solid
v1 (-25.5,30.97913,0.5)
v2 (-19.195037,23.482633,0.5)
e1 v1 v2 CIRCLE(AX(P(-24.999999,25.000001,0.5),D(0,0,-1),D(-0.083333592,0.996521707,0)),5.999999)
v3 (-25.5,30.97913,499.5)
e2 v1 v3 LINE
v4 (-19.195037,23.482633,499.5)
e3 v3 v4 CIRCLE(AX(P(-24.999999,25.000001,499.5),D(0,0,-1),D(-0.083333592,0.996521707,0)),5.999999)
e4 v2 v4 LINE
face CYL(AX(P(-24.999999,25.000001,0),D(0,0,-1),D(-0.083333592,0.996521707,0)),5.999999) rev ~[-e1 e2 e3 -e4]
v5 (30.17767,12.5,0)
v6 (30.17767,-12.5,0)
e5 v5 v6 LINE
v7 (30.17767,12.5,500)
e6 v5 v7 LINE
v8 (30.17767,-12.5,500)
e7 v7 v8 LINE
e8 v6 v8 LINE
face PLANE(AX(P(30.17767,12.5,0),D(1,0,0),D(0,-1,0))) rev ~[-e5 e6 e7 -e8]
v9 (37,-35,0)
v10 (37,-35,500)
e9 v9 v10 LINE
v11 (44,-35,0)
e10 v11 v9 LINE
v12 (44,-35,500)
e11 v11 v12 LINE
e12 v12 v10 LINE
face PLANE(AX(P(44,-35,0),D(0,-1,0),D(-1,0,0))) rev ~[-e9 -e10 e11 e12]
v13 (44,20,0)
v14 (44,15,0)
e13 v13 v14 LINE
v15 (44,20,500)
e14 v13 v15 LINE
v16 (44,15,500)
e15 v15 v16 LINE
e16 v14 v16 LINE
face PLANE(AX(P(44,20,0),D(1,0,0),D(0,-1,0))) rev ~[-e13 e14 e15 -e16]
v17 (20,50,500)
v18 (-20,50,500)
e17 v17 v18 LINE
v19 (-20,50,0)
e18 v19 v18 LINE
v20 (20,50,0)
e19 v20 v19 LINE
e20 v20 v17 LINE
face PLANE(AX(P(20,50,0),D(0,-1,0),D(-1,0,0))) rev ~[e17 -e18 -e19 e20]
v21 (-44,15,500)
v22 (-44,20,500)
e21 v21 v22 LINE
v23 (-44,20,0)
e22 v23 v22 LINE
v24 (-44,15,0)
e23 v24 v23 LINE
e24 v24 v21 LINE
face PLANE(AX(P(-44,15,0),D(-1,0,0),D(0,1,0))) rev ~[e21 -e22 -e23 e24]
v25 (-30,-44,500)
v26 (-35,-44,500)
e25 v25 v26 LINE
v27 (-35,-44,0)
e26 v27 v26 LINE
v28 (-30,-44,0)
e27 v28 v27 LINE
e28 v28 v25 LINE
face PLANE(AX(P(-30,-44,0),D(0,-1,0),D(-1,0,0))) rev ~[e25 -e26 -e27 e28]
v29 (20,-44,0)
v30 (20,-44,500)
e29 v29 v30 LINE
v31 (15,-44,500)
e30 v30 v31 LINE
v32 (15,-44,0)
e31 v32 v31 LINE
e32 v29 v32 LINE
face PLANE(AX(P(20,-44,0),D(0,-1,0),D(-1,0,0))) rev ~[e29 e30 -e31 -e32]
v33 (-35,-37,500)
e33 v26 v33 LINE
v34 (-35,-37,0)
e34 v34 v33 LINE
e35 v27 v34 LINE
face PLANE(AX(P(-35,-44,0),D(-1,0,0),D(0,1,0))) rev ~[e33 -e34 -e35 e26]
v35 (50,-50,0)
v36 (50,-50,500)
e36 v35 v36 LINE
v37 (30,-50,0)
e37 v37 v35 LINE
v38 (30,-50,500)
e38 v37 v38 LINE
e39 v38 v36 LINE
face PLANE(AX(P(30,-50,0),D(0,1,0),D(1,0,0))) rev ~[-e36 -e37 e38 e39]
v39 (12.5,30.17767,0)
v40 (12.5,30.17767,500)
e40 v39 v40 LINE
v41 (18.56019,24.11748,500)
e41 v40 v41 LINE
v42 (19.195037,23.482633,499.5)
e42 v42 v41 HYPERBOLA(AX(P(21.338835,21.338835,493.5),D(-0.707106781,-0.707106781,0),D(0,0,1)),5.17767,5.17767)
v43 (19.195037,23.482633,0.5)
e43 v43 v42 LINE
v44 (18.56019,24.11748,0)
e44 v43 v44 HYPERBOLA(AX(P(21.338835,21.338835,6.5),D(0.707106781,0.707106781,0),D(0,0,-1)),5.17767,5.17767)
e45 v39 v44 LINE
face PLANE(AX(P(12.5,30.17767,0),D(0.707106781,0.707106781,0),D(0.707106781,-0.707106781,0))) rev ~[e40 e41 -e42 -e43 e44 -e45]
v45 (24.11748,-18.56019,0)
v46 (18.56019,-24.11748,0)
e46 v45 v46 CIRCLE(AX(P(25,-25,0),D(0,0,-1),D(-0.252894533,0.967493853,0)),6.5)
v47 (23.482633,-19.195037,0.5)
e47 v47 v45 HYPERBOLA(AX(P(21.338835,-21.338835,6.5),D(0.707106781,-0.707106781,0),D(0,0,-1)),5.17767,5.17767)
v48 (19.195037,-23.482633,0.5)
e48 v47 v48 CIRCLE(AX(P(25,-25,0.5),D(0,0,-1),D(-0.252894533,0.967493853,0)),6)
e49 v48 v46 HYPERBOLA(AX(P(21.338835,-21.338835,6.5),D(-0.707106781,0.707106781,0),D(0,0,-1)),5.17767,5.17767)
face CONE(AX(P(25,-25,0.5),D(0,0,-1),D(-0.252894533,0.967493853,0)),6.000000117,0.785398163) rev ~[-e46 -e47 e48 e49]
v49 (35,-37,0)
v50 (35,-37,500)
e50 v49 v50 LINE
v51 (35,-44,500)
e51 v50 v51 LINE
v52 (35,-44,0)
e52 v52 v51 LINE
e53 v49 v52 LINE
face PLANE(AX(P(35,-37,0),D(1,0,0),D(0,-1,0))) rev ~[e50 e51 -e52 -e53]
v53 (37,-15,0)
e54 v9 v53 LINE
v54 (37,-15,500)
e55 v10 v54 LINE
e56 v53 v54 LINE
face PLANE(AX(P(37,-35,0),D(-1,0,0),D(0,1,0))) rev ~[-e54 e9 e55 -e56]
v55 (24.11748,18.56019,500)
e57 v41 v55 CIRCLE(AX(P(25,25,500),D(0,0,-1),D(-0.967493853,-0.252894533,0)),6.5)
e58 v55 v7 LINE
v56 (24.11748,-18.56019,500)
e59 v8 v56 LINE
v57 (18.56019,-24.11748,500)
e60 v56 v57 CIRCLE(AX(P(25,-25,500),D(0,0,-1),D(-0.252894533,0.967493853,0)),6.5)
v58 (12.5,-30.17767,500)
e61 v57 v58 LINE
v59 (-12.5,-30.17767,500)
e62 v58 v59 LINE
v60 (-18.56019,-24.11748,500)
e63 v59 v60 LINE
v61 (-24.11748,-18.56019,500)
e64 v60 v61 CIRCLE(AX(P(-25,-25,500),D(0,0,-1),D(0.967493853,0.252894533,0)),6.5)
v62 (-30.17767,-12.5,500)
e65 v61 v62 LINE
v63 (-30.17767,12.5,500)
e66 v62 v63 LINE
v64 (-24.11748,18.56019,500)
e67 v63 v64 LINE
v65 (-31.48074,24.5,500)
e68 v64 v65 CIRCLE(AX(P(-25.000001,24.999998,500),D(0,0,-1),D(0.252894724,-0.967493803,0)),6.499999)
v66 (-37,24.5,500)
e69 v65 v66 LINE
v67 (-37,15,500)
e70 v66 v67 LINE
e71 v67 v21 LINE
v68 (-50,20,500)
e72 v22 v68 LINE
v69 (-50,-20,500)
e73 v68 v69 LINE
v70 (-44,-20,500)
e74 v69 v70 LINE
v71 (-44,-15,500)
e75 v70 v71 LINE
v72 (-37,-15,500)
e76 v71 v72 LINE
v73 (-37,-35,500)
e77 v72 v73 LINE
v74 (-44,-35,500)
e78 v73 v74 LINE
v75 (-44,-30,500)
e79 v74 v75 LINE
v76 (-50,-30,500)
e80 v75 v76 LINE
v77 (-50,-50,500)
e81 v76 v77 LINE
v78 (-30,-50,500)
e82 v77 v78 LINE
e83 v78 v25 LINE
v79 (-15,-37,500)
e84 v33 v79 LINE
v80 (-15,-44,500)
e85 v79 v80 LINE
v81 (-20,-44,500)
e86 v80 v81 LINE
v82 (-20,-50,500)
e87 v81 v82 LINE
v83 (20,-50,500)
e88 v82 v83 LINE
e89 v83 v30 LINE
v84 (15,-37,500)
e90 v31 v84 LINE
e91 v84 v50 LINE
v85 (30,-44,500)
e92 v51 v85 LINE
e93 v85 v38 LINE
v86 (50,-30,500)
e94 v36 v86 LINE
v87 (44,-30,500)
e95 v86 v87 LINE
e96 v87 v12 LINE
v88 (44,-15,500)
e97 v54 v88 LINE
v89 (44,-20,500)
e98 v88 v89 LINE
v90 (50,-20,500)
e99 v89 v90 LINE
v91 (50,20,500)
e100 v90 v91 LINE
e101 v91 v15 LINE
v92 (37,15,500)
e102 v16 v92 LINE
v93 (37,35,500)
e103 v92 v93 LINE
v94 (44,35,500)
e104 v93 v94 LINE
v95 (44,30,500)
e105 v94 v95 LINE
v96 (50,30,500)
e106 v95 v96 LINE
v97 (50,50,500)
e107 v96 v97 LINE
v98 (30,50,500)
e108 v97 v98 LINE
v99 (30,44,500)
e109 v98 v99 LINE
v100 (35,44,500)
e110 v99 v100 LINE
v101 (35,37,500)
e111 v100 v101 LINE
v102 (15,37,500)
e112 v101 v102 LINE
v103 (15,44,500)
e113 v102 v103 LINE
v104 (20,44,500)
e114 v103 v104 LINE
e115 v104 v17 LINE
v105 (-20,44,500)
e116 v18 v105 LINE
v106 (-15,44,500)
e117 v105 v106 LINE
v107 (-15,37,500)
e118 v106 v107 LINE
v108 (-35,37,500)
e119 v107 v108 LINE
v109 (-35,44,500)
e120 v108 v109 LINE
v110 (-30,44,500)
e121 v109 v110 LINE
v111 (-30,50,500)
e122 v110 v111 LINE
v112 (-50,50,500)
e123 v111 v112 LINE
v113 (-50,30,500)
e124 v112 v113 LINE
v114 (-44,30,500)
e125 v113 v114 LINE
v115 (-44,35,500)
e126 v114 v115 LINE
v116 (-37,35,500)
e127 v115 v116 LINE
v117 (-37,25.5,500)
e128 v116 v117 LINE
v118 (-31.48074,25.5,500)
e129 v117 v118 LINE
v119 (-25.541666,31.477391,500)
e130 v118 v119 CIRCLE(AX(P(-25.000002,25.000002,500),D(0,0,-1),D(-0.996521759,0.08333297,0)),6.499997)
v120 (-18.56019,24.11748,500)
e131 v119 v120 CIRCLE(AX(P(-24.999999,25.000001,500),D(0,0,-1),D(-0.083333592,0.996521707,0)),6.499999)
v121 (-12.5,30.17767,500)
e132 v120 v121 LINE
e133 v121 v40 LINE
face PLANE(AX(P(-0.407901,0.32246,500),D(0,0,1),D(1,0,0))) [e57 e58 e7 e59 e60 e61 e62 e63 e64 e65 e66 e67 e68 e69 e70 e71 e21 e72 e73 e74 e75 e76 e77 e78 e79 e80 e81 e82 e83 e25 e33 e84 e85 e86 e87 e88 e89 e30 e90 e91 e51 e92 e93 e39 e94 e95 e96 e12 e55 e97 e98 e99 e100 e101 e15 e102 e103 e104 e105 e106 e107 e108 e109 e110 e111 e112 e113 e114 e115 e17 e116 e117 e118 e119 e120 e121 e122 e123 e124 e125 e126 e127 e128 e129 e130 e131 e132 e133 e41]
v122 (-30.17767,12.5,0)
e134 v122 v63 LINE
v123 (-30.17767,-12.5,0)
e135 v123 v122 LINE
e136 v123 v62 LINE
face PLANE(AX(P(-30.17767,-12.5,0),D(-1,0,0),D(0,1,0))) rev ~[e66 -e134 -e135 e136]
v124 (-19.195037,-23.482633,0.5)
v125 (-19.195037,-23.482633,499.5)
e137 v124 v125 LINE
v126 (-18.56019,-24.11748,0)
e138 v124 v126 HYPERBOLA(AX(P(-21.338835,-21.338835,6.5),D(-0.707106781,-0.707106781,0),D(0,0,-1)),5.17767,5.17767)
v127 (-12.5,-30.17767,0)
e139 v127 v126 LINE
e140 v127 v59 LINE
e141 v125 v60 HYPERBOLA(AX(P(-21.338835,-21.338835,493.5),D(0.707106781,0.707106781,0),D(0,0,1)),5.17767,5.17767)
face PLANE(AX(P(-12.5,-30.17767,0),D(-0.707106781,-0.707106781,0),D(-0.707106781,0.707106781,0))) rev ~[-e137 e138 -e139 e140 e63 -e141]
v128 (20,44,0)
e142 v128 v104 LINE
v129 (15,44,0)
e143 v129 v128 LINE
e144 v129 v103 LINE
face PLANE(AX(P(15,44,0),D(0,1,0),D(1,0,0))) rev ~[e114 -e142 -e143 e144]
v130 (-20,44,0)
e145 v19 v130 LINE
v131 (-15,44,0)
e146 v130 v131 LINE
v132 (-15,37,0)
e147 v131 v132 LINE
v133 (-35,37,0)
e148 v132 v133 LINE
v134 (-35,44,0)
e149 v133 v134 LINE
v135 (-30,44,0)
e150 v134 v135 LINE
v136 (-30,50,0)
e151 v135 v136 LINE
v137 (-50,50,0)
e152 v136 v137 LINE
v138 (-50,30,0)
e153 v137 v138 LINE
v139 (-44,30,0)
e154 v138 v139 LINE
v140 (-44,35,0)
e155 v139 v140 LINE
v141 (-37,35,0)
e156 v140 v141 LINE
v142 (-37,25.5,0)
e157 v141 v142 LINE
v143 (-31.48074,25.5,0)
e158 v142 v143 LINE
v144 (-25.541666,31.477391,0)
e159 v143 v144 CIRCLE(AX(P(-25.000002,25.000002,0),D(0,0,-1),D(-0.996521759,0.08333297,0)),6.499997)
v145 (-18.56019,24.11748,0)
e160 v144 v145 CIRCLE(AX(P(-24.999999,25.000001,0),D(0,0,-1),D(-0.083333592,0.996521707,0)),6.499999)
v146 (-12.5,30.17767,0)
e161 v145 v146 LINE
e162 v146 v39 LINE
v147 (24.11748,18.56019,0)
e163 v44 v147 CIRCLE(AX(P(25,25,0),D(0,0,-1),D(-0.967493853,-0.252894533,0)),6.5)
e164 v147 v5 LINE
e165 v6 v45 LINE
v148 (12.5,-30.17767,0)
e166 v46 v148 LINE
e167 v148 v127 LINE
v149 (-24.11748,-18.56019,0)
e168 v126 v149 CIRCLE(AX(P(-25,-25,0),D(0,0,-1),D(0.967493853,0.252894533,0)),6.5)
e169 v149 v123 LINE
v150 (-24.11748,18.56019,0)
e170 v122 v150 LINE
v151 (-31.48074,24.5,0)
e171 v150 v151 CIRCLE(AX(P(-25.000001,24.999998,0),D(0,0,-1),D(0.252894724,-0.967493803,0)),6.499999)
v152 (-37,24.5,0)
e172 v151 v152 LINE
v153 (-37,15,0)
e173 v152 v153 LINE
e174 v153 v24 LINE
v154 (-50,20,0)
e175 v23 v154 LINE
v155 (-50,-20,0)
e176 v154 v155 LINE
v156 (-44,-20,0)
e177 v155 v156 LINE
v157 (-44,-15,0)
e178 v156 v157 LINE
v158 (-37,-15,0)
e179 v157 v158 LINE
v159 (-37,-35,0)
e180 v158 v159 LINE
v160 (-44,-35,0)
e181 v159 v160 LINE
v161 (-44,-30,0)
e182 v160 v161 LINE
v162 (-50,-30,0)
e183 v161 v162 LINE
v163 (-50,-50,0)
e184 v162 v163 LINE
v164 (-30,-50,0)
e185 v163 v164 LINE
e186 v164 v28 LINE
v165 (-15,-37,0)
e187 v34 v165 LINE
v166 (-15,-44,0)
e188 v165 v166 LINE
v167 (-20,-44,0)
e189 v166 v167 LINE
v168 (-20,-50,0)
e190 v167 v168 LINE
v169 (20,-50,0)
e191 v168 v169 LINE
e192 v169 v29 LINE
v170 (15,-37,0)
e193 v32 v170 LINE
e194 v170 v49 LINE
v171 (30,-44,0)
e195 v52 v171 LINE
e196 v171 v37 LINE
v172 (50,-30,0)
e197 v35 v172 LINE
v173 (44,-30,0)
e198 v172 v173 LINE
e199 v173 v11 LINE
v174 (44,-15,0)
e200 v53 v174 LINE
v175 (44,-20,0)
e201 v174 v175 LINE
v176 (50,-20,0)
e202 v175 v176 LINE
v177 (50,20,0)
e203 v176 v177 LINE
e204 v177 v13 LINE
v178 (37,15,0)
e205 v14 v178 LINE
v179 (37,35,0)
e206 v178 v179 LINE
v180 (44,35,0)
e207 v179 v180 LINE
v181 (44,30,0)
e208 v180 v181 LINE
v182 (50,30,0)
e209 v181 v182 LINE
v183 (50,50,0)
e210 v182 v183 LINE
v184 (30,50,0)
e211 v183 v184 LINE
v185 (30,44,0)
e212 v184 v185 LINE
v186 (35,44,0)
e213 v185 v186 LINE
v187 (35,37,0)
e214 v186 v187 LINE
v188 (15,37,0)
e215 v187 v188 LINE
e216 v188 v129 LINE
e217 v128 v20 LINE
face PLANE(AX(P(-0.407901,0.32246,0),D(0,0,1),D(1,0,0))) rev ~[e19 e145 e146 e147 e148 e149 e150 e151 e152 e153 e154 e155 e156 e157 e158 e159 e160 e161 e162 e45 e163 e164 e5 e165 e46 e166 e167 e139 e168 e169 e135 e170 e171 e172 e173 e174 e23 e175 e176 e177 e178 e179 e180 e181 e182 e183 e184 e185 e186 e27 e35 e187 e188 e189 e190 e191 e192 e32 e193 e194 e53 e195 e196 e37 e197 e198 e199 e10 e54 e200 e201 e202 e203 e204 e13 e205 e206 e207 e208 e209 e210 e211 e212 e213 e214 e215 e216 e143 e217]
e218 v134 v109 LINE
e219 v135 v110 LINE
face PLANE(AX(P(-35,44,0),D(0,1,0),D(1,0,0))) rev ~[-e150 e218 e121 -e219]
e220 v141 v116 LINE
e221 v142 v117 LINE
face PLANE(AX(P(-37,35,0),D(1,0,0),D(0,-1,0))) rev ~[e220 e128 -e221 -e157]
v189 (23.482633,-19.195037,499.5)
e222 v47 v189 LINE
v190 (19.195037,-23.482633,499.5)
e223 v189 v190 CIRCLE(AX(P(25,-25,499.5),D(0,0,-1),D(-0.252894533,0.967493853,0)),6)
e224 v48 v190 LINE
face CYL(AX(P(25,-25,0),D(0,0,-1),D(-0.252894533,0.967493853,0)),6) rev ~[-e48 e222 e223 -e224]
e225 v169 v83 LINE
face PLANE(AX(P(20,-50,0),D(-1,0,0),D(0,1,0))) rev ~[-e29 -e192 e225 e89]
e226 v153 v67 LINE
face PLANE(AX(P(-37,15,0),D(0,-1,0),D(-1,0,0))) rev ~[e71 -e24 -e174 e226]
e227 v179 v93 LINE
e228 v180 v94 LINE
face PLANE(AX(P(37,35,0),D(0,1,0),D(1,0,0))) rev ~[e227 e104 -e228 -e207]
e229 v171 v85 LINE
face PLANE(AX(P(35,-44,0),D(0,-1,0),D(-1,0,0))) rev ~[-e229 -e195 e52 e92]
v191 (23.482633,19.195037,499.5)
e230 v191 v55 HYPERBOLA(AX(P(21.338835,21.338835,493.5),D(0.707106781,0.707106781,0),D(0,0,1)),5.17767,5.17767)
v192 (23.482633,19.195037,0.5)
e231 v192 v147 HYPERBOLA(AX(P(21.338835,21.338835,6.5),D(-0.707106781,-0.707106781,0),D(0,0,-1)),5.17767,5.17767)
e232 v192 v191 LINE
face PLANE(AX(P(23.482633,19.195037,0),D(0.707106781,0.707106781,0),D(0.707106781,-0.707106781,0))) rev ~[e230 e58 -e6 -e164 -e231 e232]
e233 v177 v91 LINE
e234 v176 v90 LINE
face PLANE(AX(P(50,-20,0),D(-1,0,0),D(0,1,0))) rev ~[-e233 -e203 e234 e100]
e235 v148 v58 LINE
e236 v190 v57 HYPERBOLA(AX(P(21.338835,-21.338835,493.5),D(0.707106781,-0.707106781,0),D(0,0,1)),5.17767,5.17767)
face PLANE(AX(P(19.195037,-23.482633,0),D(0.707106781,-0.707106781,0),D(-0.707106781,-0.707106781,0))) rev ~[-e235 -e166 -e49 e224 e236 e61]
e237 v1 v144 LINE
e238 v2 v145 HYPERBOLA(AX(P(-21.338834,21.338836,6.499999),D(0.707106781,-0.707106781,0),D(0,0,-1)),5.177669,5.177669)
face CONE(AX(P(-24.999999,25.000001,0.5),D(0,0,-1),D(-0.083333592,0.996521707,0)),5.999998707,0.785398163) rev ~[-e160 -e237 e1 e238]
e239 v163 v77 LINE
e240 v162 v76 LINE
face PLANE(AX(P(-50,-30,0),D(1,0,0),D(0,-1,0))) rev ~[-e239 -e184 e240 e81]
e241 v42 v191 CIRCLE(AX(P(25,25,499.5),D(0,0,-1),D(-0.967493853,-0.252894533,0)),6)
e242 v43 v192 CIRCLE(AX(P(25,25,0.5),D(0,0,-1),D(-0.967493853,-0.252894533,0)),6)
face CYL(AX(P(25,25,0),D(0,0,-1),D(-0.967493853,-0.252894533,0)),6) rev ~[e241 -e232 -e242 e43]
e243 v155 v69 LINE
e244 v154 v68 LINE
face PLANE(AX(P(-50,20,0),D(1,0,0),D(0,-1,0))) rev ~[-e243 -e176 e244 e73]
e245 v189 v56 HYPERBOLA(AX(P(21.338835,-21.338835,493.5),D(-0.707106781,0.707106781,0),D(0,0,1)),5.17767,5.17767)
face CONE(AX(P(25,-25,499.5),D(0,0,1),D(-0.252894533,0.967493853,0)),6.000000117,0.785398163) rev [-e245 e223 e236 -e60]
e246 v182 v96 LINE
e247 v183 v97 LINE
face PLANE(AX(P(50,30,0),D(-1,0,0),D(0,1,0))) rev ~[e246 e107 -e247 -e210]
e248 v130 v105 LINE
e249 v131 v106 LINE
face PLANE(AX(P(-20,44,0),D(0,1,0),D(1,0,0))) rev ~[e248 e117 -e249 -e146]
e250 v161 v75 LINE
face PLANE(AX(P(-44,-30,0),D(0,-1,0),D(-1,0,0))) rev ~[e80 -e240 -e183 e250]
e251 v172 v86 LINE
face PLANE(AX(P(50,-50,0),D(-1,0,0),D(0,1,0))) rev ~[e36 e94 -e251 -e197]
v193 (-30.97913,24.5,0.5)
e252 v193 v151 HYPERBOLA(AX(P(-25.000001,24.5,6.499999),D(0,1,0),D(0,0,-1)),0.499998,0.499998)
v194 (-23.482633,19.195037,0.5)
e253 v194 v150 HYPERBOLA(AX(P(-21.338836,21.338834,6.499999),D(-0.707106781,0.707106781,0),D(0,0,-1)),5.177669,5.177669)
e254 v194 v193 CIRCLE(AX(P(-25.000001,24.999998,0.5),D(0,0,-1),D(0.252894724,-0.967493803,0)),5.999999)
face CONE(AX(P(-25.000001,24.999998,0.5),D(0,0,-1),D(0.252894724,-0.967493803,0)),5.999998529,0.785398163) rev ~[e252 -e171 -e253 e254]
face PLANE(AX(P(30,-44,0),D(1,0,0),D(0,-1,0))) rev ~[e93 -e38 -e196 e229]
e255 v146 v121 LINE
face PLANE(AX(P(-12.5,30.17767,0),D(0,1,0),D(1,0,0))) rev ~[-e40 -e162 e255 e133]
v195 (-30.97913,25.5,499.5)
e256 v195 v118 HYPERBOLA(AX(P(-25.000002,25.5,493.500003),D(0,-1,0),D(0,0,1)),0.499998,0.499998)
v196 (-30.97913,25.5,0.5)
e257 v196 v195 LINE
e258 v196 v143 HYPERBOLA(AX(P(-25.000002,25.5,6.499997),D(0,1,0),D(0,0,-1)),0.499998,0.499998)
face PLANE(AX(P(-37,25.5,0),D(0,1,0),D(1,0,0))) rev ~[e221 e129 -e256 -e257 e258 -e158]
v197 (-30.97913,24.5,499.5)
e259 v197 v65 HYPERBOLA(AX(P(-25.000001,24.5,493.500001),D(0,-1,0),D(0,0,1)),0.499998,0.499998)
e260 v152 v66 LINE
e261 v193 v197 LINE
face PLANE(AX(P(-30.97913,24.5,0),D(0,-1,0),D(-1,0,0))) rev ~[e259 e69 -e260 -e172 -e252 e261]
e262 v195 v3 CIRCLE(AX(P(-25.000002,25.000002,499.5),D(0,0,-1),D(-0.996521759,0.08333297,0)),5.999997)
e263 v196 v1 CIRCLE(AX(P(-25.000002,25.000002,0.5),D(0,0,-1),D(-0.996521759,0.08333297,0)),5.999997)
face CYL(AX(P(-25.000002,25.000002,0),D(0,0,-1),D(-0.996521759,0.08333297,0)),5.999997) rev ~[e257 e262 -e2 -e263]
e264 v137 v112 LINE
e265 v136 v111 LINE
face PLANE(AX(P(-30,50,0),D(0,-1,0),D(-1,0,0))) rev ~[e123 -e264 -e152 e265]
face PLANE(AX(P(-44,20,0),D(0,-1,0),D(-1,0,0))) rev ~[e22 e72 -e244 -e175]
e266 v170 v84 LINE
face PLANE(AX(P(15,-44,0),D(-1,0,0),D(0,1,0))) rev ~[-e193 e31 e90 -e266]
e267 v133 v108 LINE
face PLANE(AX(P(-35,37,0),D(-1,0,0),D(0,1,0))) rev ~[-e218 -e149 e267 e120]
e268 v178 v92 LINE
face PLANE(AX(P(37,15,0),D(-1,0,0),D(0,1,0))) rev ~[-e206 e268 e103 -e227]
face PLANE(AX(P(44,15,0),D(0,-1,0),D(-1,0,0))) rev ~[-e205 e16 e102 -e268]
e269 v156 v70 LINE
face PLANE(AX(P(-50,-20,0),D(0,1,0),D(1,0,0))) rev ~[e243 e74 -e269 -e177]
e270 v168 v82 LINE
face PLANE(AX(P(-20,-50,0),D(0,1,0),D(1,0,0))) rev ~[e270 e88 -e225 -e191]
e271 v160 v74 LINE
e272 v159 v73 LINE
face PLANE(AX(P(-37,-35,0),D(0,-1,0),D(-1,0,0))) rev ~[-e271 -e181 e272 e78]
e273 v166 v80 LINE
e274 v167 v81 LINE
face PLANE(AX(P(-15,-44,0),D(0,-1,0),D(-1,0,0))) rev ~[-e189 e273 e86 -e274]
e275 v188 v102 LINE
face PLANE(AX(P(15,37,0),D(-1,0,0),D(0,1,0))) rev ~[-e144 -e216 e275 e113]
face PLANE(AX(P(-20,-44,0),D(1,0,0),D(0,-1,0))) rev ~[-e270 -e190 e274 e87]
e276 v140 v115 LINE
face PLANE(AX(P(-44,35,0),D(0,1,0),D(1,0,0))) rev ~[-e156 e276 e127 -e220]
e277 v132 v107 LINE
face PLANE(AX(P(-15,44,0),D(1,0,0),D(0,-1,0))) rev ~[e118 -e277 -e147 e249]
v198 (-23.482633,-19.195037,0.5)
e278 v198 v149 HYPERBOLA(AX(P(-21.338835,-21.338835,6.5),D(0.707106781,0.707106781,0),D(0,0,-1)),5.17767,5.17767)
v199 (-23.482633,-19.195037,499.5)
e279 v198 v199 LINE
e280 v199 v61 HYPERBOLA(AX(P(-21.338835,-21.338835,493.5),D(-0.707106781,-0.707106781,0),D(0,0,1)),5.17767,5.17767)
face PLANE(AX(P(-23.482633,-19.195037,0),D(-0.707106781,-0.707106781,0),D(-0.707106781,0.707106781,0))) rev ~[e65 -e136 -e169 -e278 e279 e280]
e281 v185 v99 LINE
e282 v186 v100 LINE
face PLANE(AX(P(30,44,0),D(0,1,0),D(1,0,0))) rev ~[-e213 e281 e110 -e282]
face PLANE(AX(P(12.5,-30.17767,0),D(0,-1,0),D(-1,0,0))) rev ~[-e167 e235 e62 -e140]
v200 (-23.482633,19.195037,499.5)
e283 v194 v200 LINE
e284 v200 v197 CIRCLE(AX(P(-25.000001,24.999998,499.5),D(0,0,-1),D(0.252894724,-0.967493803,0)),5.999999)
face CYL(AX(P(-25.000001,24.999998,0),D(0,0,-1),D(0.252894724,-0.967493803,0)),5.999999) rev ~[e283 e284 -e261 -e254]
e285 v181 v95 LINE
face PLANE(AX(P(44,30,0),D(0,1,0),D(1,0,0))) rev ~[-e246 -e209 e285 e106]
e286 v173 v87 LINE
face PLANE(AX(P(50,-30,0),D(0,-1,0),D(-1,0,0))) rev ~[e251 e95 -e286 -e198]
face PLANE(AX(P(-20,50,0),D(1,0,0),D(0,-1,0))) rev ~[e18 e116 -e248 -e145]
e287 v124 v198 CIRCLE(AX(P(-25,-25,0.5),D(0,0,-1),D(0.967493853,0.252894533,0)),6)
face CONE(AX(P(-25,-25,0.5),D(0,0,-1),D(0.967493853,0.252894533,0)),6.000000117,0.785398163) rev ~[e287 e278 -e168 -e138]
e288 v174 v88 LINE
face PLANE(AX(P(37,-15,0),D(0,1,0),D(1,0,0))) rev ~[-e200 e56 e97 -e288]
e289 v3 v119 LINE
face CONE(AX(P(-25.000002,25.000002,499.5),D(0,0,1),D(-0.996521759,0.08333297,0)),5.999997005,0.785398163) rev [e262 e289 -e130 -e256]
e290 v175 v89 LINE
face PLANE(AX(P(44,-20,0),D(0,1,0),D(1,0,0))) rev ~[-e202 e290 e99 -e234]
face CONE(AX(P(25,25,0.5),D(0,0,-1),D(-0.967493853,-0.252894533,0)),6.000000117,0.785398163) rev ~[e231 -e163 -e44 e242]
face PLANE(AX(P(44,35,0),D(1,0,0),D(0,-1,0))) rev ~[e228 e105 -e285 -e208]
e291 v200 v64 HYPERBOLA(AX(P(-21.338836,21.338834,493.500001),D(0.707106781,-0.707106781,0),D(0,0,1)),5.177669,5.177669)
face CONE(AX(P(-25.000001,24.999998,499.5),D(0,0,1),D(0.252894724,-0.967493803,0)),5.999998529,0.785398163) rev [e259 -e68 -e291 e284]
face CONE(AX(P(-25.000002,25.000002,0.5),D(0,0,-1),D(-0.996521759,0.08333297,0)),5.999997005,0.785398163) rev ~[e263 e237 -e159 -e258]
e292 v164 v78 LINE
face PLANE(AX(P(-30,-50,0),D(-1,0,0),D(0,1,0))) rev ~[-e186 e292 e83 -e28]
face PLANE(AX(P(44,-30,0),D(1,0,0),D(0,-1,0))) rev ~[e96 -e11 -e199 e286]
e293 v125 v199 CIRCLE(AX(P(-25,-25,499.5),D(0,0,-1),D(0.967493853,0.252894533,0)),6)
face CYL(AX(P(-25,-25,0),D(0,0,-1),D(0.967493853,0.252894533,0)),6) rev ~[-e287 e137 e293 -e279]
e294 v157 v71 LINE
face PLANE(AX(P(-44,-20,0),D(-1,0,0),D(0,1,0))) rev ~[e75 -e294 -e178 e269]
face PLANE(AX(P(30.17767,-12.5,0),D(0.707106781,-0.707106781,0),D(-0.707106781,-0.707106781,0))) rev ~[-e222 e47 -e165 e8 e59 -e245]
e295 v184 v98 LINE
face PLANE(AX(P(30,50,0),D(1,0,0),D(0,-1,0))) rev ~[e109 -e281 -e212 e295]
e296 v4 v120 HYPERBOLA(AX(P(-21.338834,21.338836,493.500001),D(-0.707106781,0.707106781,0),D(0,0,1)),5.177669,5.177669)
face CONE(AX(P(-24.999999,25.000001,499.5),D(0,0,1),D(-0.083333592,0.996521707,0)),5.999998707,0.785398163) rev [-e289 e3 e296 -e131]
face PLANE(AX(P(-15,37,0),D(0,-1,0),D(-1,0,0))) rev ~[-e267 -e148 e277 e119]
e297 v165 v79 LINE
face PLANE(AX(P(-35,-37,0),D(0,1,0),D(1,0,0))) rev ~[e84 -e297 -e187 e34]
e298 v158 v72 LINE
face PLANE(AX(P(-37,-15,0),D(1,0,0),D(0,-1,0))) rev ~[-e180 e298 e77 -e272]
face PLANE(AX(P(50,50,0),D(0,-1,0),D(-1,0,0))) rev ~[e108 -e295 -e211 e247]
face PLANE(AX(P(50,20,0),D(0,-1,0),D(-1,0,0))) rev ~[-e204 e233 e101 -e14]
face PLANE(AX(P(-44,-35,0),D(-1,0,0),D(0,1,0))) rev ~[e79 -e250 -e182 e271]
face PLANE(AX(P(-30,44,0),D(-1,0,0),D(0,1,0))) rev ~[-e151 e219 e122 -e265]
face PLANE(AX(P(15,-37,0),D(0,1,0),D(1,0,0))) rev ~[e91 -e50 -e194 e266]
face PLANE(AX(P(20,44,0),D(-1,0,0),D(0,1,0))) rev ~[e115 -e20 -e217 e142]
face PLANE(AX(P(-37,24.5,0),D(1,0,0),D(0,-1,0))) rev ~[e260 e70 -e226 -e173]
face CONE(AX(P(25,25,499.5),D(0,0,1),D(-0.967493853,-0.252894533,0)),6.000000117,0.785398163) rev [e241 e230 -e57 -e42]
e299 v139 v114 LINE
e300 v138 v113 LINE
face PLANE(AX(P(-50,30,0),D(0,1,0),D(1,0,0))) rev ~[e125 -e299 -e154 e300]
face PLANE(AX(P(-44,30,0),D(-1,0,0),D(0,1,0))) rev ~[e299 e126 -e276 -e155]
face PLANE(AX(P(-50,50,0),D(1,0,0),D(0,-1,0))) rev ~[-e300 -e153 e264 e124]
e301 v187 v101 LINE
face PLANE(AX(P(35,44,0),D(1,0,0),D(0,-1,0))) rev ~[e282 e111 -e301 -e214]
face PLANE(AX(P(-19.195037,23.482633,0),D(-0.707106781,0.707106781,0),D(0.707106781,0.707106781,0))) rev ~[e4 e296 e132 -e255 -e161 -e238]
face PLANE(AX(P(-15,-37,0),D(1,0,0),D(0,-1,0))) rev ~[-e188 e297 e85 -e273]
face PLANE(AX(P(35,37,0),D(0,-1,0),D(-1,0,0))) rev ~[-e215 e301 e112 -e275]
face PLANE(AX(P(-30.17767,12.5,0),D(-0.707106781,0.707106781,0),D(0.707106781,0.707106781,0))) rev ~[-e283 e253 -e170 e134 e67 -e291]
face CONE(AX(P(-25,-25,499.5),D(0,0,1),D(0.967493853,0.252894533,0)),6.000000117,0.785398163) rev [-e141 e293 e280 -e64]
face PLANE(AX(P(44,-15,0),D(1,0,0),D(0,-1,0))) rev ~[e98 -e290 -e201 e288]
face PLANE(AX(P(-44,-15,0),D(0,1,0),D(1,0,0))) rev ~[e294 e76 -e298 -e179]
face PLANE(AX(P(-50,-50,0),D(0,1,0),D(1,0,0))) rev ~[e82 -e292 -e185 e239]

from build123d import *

# Parameters (mm, degrees)
F1_DEPTH = 500
F2_SIZE  = 0.5


with BuildPart() as f1:
    # F0 (on Top) → F1 (new body)
    with BuildSketch(Plane.XY):
        with BuildLine():
            Line((-30, 50), (-50, 50))
            Line((-50, 50), (-50, 30))
            Line((-50, 30), (-44, 30))
            Line((-44, 30), (-44, 35))
            Line((-44, 35), (-37, 35))
            Line((-37, 35), (-37, 25.5))
            Line((-37, 25.5), (-30.97913, 25.5))
            ThreePointArc((-30.97913, 25.5), (-29.242641, 29.242641), (-25.5, 30.97913))
            ThreePointArc((-25.5, 30.97913), (-20.408156, 28.861991), (-19.195037, 23.482633))
            Line((-19.195037, 23.482633), (-12.5, 30.17767))
            Line((-12.5, 30.17767), (12.5, 30.17767))
            Line((12.5, 30.17767), (19.195037, 23.482633))
            ThreePointArc((19.195037, 23.482633), (29.242641, 29.242641), (23.482633, 19.195037))
            Line((23.482633, 19.195037), (30.17767, 12.5))
            Line((30.17767, 12.5), (30.17767, -12.5))
            Line((30.17767, -12.5), (23.482633, -19.195037))
            ThreePointArc((23.482633, -19.195037), (29.242641, -29.242641), (19.195037, -23.482633))
            Line((19.195037, -23.482633), (12.5, -30.17767))
            Line((12.5, -30.17767), (-12.5, -30.17767))
            Line((-12.5, -30.17767), (-19.195037, -23.482633))
            ThreePointArc((-19.195037, -23.482633), (-29.242641, -29.242641), (-23.482633, -19.195037))
            Line((-23.482633, -19.195037), (-30.17767, -12.5))
            Line((-30.17767, -12.5), (-30.17767, 12.5))
            Line((-30.17767, 12.5), (-23.482633, 19.195037))
            ThreePointArc((-23.482633, 19.195037), (-28.465904, 20.102295), (-30.97913, 24.5))
            Line((-30.97913, 24.5), (-37, 24.5))
            Line((-37, 24.5), (-37, 15))
            Line((-37, 15), (-44, 15))
            Line((-44, 15), (-44, 20))
            Line((-44, 20), (-50, 20))
            Line((-50, 20), (-50, -20))
            Line((-50, -20), (-44, -20))
            Line((-44, -20), (-44, -15))
            Line((-44, -15), (-37, -15))
            Line((-37, -15), (-37, -35))
            Line((-37, -35), (-44, -35))
            Line((-44, -35), (-44, -30))
            Line((-44, -30), (-50, -30))
            Line((-50, -30), (-50, -50))
            Line((-50, -50), (-30, -50))
            Line((-30, -50), (-30, -44))
            Line((-30, -44), (-35, -44))
            Line((-35, -44), (-35, -37))
            Line((-35, -37), (-15, -37))
            Line((-15, -37), (-15, -44))
            Line((-15, -44), (-20, -44))
            Line((-20, -44), (-20, -50))
            Line((-20, -50), (20, -50))
            Line((20, -50), (20, -44))
            Line((20, -44), (15, -44))
            Line((15, -44), (15, -37))
            Line((15, -37), (35, -37))
            Line((35, -37), (35, -44))
            Line((35, -44), (30, -44))
            Line((30, -44), (30, -50))
            Line((30, -50), (50, -50))
            Line((50, -50), (50, -30))
            Line((50, -30), (44, -30))
            Line((44, -30), (44, -35))
            Line((44, -35), (37, -35))
            Line((37, -35), (37, -15))
            Line((37, -15), (44, -15))
            Line((44, -15), (44, -20))
            Line((44, -20), (50, -20))
            Line((50, -20), (50, 20))
            Line((50, 20), (44, 20))
            Line((44, 20), (44, 15))
            Line((44, 15), (37, 15))
            Line((37, 15), (37, 35))
            Line((37, 35), (44, 35))
            Line((44, 35), (44, 30))
            Line((44, 30), (50, 30))
            Line((50, 30), (50, 50))
            Line((50, 50), (30, 50))
            Line((30, 50), (30, 44))
            Line((30, 44), (35, 44))
            Line((35, 44), (35, 37))
            Line((35, 37), (15, 37))
            Line((15, 37), (15, 44))
            Line((15, 44), (20, 44))
            Line((20, 44), (20, 50))
            Line((20, 50), (-20, 50))
            Line((-20, 50), (-20, 44))
            Line((-20, 44), (-15, 44))
            Line((-15, 44), (-15, 37))
            Line((-15, 37), (-25.5, 37))
            Line((-25.5, 37), (-35, 37))
            Line((-35, 37), (-35, 44))
            Line((-35, 44), (-30, 44))
            Line((-30, 44), (-30, 50))
        make_face()
    extrude(amount=F1_DEPTH)

    # F2
    f2_edges = [f1.edges().sort_by_distance(p)[0] for p in [
        (-23.987564, 30.913964, 500),
        (-28.465904, 20.102295, 500),
        (-29.242641, -29.242641, 500),
        (29.242641, -29.242641, 500),
        (29.242641, 29.242641, 500),
        (29.242641, 29.242641, 0),
        (29.242641, -29.242641, 0),
        (-29.242641, -29.242641, 0),
        (-28.465904, 20.102295, 0),
        (-23.987564, 30.913964, 0),
    ]]
    chamfer(f2_edges, length=F2_SIZE)


solid = f1.part
